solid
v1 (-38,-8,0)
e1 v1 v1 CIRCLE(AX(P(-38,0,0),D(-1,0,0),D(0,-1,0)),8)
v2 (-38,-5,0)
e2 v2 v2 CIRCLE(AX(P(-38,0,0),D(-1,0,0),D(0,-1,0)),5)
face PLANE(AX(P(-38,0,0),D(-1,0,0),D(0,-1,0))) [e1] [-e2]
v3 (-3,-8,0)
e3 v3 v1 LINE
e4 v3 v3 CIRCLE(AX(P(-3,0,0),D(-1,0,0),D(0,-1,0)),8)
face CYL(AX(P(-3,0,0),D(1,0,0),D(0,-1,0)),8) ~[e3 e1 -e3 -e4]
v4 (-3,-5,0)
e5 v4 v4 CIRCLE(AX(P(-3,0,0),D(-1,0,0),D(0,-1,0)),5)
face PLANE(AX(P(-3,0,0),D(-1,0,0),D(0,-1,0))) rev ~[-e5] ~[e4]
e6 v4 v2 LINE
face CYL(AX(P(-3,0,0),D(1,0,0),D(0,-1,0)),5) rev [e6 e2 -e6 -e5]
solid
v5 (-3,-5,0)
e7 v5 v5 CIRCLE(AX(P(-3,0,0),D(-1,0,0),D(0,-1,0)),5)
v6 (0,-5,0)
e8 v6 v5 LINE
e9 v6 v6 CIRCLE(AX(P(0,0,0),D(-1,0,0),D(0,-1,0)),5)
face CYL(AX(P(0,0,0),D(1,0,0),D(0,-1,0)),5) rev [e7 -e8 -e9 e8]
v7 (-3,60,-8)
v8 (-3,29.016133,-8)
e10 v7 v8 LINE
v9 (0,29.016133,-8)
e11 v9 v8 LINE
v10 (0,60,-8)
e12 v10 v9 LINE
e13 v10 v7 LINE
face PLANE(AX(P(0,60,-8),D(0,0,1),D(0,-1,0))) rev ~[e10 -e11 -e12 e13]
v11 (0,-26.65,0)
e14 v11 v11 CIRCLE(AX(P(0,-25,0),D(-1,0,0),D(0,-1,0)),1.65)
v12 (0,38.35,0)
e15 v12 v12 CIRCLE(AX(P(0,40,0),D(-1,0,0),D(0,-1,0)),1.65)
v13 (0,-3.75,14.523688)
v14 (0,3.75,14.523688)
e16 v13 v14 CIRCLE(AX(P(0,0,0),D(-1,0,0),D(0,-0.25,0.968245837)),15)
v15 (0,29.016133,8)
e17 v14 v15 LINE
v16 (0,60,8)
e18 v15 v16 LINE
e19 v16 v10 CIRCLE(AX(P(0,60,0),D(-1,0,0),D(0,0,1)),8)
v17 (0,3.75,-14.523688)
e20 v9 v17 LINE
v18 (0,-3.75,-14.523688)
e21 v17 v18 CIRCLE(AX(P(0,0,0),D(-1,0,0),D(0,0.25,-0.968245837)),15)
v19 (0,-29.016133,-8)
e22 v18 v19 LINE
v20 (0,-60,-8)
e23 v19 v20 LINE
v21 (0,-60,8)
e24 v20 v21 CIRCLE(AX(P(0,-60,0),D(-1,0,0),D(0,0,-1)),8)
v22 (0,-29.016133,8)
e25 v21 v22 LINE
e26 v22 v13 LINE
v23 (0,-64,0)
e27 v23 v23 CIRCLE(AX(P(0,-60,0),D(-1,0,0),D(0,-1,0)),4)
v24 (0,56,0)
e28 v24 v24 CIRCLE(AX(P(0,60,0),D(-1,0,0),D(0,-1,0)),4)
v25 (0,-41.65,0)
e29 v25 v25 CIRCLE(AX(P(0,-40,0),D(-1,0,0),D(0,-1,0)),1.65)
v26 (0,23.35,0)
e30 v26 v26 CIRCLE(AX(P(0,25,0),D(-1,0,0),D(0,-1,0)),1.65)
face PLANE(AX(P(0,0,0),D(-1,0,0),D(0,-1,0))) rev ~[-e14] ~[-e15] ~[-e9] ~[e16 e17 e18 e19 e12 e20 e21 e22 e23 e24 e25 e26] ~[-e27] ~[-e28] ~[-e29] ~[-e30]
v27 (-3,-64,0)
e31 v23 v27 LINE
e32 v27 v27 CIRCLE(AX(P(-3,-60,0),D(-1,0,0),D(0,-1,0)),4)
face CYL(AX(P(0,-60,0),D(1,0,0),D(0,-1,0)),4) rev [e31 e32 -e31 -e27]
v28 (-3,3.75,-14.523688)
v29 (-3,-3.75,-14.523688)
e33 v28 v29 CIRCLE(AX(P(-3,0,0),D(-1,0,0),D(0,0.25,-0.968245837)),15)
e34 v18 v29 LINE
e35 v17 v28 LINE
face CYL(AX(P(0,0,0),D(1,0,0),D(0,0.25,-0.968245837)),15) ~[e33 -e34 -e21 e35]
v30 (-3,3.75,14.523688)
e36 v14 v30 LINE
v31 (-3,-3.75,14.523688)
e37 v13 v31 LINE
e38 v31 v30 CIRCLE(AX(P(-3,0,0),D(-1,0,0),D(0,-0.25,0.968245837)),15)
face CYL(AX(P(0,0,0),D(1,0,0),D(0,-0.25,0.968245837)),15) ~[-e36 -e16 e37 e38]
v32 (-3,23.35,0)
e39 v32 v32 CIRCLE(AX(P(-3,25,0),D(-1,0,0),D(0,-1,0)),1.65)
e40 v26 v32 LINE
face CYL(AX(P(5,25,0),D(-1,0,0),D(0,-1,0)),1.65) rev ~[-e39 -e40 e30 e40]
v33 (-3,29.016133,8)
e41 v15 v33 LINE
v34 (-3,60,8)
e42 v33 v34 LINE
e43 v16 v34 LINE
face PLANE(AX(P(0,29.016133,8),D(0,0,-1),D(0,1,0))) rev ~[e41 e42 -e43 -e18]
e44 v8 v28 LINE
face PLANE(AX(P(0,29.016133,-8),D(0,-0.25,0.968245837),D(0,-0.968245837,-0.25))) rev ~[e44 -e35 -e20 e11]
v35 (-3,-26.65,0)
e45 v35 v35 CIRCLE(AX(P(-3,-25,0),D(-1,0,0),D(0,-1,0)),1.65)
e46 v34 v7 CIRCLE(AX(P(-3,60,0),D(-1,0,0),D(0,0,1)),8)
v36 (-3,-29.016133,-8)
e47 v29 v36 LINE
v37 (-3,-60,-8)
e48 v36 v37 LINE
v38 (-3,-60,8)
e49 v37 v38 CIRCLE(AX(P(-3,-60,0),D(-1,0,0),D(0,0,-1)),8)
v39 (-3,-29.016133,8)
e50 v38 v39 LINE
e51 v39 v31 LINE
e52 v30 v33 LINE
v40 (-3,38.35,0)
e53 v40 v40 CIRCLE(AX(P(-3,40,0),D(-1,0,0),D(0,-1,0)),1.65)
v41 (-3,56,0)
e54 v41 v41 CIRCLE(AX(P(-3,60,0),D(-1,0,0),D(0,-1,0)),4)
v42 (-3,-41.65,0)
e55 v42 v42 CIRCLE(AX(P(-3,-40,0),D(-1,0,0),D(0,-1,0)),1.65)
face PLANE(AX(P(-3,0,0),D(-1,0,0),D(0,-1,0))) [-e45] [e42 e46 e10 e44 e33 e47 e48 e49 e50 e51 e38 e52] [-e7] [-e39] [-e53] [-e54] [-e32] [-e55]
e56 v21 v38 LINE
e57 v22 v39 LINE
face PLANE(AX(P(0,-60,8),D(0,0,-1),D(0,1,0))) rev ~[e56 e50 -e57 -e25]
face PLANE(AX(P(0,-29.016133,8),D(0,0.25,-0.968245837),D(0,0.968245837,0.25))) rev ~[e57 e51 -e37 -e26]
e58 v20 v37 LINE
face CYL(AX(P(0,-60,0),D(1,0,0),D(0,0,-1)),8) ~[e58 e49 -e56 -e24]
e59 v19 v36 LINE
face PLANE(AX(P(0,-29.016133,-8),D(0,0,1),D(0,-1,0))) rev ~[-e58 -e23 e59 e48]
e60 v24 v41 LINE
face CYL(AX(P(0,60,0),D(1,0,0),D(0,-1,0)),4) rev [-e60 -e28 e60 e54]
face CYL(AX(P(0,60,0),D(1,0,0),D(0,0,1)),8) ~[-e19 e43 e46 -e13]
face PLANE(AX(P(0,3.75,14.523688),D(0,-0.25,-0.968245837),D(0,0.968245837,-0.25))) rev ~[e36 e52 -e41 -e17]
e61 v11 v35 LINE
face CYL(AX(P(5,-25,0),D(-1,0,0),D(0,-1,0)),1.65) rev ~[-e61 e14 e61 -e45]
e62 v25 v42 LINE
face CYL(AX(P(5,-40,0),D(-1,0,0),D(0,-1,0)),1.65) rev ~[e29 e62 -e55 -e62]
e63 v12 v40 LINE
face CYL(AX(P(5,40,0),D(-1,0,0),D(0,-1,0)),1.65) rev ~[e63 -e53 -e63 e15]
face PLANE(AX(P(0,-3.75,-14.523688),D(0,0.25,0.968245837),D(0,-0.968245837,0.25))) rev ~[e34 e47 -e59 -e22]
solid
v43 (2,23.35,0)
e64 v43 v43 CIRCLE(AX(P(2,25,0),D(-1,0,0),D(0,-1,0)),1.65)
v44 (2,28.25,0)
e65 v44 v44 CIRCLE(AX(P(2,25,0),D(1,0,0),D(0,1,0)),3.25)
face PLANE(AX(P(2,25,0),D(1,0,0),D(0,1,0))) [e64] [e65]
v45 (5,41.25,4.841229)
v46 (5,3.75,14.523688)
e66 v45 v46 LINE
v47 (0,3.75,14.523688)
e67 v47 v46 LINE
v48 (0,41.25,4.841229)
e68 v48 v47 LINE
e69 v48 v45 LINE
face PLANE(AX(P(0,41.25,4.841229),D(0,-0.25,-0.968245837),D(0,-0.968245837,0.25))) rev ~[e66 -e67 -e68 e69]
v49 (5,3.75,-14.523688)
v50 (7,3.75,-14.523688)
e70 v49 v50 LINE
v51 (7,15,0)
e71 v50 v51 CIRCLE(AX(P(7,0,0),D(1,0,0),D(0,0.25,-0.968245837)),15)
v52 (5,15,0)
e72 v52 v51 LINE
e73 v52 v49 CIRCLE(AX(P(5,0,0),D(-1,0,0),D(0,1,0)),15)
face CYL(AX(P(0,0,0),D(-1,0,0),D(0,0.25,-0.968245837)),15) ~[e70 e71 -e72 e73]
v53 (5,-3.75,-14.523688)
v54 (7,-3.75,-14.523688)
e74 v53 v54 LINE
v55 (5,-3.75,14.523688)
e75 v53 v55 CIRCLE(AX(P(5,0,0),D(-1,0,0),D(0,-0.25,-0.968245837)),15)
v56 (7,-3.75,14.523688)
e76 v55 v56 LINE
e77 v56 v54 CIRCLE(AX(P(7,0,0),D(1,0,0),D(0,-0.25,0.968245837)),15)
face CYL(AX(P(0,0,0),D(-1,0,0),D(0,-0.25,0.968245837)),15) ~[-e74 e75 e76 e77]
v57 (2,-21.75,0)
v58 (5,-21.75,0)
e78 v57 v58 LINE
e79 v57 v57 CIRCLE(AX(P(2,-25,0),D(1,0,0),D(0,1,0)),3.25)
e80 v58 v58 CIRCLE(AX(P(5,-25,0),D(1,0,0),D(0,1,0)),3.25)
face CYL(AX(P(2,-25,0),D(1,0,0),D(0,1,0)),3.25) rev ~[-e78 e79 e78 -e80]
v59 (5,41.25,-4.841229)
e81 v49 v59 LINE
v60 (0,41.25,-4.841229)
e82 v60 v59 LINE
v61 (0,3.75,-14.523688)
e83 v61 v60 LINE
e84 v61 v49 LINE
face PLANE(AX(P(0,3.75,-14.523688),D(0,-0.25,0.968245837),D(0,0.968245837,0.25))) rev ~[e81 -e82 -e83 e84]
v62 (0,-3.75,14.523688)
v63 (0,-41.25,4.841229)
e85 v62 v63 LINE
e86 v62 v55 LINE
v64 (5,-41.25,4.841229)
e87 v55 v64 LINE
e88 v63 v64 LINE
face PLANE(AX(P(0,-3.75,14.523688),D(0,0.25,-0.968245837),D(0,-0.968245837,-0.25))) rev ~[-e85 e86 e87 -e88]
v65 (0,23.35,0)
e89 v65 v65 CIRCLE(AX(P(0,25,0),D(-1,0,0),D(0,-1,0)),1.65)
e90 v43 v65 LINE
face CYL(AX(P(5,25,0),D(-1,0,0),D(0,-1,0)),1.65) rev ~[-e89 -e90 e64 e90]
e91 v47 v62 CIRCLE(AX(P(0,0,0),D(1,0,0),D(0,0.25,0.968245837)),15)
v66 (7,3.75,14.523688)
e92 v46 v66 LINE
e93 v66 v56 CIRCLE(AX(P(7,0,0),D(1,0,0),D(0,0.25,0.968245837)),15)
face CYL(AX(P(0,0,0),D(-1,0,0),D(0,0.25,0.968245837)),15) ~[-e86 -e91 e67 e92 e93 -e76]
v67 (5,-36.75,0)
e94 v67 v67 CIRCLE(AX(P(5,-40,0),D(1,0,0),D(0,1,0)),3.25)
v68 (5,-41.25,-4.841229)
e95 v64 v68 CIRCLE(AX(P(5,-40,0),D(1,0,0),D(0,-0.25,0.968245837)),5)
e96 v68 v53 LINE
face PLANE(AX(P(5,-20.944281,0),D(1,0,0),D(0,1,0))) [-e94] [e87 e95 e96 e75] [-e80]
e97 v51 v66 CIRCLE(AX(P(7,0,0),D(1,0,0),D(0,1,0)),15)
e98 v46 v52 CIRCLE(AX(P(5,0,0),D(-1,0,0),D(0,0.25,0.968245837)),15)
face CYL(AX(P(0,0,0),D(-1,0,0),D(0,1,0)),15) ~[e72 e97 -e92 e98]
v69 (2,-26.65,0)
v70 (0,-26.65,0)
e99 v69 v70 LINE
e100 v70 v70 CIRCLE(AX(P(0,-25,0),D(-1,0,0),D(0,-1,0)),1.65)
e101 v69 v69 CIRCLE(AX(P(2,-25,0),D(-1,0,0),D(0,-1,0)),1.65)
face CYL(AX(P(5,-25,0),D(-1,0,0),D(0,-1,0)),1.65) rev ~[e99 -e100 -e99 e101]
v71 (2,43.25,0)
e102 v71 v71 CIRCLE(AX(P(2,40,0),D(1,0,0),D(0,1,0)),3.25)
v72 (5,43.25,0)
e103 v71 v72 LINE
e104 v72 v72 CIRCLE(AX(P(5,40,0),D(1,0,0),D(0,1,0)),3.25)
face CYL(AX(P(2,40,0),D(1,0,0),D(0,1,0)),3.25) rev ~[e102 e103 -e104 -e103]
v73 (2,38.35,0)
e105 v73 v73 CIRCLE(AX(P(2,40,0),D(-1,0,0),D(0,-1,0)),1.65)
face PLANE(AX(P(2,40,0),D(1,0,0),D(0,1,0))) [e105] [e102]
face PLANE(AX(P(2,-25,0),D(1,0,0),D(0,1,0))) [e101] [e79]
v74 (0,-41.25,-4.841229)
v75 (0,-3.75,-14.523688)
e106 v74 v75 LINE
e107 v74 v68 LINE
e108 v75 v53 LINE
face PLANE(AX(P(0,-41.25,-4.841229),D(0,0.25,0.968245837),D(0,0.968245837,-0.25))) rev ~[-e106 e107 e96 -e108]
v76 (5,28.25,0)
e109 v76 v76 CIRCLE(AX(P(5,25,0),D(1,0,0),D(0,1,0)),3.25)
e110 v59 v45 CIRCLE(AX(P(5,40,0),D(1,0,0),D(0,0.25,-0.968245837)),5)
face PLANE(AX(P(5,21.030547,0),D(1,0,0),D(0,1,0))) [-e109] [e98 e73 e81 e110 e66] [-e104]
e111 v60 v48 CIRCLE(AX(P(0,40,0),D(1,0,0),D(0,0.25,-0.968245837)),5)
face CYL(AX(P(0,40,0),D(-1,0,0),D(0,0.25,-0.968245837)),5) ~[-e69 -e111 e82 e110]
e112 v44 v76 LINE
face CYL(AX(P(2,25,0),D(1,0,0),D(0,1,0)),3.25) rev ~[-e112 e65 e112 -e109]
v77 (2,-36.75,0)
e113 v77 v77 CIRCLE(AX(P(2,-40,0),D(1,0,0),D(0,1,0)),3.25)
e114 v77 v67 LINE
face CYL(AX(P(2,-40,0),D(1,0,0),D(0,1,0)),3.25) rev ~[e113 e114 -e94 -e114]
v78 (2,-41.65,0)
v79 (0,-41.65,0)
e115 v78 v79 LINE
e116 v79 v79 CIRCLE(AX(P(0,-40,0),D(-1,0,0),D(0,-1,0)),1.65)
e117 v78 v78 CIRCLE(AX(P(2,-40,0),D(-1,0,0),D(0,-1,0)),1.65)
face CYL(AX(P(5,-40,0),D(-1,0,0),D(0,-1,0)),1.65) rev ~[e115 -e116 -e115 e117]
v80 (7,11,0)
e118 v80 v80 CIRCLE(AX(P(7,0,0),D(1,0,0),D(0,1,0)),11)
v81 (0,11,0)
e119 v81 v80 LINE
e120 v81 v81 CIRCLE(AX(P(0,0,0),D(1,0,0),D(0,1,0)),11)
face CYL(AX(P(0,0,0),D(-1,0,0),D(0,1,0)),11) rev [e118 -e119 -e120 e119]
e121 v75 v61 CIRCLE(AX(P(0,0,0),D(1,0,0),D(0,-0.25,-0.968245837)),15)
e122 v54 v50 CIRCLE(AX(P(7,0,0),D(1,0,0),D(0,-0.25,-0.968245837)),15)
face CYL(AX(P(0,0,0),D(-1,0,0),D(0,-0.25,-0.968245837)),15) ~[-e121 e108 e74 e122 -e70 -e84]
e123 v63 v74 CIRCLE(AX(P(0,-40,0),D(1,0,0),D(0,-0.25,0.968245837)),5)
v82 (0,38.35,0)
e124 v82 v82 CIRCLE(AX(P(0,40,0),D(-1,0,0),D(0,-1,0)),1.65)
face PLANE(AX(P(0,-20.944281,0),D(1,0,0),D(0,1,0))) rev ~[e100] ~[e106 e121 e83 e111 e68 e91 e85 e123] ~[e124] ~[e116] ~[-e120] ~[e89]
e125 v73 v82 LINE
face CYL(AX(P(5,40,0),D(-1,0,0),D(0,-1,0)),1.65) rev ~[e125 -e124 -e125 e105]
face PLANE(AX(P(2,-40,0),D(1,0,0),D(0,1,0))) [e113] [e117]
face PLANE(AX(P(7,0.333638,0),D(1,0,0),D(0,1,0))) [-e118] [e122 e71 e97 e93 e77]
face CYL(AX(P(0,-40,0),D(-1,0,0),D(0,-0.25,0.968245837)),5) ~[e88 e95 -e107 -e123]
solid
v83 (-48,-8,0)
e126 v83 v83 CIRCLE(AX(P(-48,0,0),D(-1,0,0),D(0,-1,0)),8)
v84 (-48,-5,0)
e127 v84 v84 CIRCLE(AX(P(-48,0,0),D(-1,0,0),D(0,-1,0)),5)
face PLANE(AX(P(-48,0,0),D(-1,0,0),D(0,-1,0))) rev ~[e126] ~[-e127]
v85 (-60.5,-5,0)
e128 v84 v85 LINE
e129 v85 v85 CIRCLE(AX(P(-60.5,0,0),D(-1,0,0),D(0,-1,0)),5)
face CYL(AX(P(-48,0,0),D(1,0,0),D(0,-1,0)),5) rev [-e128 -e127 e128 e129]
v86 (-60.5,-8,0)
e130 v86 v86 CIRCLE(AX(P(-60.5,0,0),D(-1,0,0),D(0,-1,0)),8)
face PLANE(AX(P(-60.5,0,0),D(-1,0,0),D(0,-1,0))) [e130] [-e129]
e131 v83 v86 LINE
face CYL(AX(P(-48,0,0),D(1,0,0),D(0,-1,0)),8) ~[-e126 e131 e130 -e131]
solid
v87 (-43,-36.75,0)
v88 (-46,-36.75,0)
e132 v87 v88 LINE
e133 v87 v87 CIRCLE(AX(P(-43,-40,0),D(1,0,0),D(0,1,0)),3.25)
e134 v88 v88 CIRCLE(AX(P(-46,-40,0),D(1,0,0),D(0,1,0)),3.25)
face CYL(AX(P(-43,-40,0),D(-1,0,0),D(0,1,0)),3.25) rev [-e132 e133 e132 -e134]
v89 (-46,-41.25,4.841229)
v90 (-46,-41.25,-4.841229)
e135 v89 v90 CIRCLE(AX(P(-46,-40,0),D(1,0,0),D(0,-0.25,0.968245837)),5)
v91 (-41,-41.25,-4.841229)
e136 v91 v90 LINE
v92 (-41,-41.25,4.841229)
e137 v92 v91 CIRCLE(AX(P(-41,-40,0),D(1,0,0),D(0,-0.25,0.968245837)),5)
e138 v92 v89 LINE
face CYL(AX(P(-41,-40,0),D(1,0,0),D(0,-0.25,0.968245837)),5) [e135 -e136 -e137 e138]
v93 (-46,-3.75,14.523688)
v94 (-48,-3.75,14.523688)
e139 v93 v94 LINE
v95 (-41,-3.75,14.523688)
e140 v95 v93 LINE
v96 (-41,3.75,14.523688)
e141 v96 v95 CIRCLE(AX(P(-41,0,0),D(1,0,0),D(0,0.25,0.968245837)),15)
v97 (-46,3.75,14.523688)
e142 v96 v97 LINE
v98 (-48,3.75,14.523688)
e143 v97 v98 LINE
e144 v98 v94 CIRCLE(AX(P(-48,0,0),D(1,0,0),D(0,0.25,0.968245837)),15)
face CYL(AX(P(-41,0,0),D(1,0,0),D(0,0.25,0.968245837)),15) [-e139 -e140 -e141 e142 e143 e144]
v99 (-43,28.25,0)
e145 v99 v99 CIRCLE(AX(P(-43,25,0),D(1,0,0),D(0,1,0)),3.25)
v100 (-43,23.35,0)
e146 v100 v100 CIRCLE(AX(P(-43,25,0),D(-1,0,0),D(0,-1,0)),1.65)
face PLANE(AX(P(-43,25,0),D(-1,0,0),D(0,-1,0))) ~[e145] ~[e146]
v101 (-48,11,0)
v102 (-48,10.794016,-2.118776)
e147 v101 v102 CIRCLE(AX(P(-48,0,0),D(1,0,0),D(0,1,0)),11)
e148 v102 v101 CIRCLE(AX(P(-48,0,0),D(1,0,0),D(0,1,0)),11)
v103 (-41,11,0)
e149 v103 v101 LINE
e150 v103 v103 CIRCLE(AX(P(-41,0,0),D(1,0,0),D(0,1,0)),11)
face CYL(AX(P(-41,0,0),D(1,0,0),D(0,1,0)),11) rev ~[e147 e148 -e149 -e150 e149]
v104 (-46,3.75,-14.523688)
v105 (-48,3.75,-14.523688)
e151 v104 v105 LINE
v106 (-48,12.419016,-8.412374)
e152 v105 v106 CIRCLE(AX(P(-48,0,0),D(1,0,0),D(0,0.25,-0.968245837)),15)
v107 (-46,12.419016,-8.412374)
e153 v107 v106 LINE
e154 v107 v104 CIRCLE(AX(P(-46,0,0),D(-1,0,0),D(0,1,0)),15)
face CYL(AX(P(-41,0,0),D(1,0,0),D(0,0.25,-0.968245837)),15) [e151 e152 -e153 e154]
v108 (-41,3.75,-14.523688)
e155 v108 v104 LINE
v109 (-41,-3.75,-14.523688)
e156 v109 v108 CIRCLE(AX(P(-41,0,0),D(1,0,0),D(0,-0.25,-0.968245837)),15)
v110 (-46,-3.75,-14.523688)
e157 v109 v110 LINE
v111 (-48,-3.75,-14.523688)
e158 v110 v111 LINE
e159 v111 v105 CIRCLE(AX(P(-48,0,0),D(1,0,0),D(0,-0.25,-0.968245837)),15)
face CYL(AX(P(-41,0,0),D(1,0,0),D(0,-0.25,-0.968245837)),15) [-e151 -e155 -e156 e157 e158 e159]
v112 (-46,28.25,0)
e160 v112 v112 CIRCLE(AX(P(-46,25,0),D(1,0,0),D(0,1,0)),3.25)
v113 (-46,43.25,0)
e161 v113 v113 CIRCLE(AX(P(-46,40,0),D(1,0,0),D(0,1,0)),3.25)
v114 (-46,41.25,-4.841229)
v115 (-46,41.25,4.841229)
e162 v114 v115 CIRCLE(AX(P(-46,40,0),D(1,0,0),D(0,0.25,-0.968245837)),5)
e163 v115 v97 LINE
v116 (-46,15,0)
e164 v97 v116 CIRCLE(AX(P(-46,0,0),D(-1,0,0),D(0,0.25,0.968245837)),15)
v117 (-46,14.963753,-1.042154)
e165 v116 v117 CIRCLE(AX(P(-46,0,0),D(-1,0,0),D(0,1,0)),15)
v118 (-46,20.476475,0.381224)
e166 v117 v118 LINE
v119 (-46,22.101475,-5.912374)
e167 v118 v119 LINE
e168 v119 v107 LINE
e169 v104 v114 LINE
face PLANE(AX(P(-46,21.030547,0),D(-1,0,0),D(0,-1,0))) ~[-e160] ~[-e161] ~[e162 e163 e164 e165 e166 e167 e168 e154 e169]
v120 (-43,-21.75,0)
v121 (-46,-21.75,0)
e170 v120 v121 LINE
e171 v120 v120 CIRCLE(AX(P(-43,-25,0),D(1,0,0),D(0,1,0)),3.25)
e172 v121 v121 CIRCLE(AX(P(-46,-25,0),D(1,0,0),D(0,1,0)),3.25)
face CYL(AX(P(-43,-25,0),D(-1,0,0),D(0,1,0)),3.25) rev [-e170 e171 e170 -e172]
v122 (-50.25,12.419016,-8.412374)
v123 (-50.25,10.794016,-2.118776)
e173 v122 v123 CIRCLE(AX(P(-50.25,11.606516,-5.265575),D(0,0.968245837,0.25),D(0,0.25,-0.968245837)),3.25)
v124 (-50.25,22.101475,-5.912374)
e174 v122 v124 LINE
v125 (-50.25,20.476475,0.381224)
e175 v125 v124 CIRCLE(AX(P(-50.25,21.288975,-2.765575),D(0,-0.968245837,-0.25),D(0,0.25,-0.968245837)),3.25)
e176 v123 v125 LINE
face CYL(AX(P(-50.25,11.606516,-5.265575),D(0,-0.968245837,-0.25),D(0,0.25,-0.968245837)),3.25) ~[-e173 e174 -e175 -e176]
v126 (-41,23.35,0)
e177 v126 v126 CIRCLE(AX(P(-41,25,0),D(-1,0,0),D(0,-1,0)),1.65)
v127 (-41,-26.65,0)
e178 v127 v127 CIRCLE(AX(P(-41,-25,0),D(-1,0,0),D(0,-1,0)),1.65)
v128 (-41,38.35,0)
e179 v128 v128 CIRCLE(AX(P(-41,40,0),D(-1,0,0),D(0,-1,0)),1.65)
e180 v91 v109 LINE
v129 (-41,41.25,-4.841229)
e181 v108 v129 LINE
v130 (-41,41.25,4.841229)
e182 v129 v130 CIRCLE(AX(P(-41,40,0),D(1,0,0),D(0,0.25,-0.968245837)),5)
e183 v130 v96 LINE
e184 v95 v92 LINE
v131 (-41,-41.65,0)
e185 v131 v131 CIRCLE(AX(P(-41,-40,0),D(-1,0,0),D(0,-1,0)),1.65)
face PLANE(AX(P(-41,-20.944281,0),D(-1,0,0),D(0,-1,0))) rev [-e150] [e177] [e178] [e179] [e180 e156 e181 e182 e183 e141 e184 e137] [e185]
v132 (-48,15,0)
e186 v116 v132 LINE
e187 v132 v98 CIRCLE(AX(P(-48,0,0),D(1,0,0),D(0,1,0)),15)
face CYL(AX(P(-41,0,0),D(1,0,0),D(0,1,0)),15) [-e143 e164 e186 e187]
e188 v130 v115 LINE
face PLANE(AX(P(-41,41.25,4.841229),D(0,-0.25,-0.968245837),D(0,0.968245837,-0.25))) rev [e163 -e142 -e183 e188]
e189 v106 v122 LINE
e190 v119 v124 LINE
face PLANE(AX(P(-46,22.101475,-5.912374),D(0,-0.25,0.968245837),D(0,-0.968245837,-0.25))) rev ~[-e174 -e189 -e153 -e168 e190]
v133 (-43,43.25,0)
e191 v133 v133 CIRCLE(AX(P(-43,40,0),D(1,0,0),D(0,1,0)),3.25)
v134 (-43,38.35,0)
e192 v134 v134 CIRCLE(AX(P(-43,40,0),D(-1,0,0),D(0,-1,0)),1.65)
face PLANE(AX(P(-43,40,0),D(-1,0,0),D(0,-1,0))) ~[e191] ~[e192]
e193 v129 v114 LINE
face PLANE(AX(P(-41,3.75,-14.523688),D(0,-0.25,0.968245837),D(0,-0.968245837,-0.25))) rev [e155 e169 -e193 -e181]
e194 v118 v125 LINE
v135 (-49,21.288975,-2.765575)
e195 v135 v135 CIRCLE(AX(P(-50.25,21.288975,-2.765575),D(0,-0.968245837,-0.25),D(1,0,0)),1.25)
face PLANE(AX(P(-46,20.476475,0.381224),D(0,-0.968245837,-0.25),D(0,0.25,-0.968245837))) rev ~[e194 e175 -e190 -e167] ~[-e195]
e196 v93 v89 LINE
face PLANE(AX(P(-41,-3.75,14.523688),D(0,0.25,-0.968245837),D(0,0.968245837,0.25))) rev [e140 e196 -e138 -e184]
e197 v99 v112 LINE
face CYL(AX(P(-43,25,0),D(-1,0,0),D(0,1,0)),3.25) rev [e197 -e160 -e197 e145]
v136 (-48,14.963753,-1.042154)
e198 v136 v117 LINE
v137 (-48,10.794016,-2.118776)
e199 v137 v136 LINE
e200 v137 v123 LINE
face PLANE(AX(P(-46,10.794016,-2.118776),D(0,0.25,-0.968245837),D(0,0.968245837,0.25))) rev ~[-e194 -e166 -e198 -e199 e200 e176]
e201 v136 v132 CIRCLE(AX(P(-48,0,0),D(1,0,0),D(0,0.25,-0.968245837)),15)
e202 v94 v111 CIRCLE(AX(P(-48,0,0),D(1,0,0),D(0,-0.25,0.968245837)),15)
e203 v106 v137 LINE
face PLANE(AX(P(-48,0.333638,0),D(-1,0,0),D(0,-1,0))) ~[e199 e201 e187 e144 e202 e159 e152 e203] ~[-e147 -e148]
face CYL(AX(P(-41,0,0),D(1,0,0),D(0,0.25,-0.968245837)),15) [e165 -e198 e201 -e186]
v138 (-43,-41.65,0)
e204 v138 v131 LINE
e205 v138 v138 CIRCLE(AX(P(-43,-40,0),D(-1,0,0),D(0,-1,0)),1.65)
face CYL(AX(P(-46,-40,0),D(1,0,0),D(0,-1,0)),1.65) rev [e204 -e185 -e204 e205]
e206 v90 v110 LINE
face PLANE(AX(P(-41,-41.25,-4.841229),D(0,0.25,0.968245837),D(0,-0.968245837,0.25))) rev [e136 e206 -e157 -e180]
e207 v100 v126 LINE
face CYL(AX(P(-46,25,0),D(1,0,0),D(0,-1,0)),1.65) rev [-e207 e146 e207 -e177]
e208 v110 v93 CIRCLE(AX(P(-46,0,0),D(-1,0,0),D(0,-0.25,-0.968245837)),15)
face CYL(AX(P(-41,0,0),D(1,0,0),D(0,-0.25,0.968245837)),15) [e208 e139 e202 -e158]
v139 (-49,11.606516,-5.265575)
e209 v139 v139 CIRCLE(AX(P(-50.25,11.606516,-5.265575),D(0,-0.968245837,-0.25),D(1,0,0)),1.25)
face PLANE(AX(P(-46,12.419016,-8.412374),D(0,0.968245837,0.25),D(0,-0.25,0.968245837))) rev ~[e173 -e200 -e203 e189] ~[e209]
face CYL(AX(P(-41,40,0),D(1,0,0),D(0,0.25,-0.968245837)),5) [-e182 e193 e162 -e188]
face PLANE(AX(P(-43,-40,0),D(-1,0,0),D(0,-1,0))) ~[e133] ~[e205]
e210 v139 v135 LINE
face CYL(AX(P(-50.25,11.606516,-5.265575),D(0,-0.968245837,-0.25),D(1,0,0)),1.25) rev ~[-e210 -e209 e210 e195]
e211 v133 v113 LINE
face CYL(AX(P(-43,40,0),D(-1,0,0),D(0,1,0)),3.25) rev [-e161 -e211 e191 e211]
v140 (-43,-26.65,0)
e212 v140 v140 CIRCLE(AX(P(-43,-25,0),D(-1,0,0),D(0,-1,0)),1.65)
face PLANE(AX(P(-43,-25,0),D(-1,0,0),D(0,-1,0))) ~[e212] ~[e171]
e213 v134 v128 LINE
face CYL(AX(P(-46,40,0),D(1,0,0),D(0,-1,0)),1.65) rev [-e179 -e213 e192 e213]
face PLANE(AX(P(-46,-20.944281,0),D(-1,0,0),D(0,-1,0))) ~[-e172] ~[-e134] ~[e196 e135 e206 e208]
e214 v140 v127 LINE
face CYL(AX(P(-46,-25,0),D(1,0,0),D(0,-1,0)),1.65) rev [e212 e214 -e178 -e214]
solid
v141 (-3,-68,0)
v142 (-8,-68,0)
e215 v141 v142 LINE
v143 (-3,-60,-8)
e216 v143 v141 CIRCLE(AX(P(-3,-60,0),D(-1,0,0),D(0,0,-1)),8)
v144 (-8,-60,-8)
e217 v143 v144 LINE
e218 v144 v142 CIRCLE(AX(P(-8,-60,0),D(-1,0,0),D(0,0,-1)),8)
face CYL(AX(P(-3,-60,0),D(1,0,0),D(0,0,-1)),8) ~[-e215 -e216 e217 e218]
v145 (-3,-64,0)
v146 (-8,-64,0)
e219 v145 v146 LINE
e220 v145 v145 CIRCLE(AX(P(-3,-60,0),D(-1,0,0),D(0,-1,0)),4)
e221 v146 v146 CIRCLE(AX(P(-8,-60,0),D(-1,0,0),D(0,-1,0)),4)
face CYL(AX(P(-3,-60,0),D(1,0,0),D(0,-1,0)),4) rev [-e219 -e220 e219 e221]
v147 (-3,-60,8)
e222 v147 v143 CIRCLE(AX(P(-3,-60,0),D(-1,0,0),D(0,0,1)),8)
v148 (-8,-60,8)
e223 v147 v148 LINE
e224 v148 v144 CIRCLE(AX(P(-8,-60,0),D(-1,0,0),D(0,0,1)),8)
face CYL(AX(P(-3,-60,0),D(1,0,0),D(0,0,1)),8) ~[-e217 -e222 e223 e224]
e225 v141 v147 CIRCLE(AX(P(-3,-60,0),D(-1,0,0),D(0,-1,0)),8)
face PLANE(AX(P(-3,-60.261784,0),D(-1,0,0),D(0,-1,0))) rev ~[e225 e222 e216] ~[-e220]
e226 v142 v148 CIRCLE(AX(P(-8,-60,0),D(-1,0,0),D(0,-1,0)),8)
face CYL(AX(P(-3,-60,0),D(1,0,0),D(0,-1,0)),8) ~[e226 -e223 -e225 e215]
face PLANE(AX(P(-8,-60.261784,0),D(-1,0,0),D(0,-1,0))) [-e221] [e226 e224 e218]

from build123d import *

# Parameters (mm, degrees)
F0_R             = 11
F1_DEPTH         = 7
F2_DEPTH         = 5
F3_R             = 4
F3_R_2           = 5
F4_DEPTH         = 3
F6_D             = 3.3
F6_DEPTH         = 16
F6_CBORE_D       = 6.5
F6_CBORE_DEPTH   = 3
F6_TIP           = 0.9914200214
F6_2_D           = 3.3
F6_2_DEPTH       = 16
F6_2_CBORE_D     = 6.5
F6_2_CBORE_DEPTH = 3
F6_2_TIP         = 0.9914200214
F7_R             = 8
F7_R_2           = 5
F8_DEPTH         = 35
F7_R_3           = 4
F9_DEPTH         = 5
F13_DEPTH        = 25
F14_R            = 1.25
F15_DEPTH        = 25
F16_R            = 8
F16_R_2          = 5
F17_DEPTH        = 12.5


with BuildPart() as f1:
    # F0 (on Right) → F1 (new body)
    with BuildSketch(Plane.YZ):
        with BuildLine():
            ThreePointArc((3.75, -14.5236875483), (11.8585412256, -9.1855865354), (15, 0))
            ThreePointArc((15, 0), (11.8585412256, 9.1855865354), (3.75, 14.5236875483))
            ThreePointArc((3.75, 14.5236875483), (0, 15), (-3.75, 14.5236875483))
            ThreePointArc((-3.75, 14.5236875483), (-15, 0), (-3.75, -14.5236875483))
            ThreePointArc((-3.75, -14.5236875483), (0, -15), (3.75, -14.5236875483))
        make_face()
        Circle(F0_R, mode=Mode.SUBTRACT)
    extrude(amount=F1_DEPTH)

    # F0 (on Right) → F2 (join)
    with BuildSketch(Plane.YZ):
        with BuildLine():
            ThreePointArc((-3.75, -14.5236875483), (-15, 0), (-3.75, 14.5236875483))
            Line((-3.75, 14.5236875483), (-41.25, 4.8412291828))
            ThreePointArc((-41.25, 4.8412291828), (-45, 0), (-41.25, -4.8412291828))
            Line((-41.25, -4.8412291828), (-3.75, -14.5236875483))
        make_face()
        with BuildLine():
            ThreePointArc((3.75, 14.5236875483), (11.8585412256, 9.1855865354), (15, 0))
            ThreePointArc((15, 0), (11.8585412256, -9.1855865354), (3.75, -14.5236875483))
            Line((3.75, -14.5236875483), (41.25, -4.8412291828))
            ThreePointArc((41.25, -4.8412291828), (45, 0), (41.25, 4.8412291828))
            Line((41.25, 4.8412291828), (3.75, 14.5236875483))
        make_face()
    extrude(amount=F2_DEPTH)

    # F6
    with Locations(Plane.YZ.offset(5)):
        with Locations((-40, 0), (40, 0), (-25, 0), (25, 0)):
            CounterBoreHole(F6_D / 2, F6_CBORE_D / 2, F6_CBORE_DEPTH, depth=F6_DEPTH)
            with Locations((0, 0, -(F6_DEPTH + F6_TIP / 2))):  # 118° drill point
                Cone(0, F6_D / 2, F6_TIP, mode=Mode.SUBTRACT)


with BuildPart() as f4:
    # F3 (on face) → F4 (new body)
    with BuildSketch(Plane(origin=(0, 0, 0), x_dir=(0, -1, 0), z_dir=(-1, 0, 0))):
        with BuildLine():
            Line((-29.0161332303, -8), (-3.75, -14.5236875483))
            ThreePointArc((-3.75, -14.5236875483), (0, -15), (3.75, -14.5236875483))
            Line((3.75, -14.5236875483), (29.0161332303, -8))
            Line((29.0161332303, -8), (60, -8))
            ThreePointArc((60, -8), (68, 0), (60, 8))
            Line((60, 8), (29.0161332303, 8))
            Line((29.0161332303, 8), (3.75, 14.5236875483))
            ThreePointArc((3.75, 14.5236875483), (0, 15), (-3.75, 14.5236875483))
            Line((-3.75, 14.5236875483), (-29.0161332303, 8))
            Line((-29.0161332303, 8), (-60, 8))
            ThreePointArc((-60, 8), (-68, 0), (-60, -8))
            Line((-60, -8), (-29.0161332303, -8))
        make_face()
        with Locations((-60, 0)):
            Circle(F3_R, mode=Mode.SUBTRACT)
        Circle(F3_R_2, mode=Mode.SUBTRACT)
        with Locations((60, 0)):
            Circle(F3_R, mode=Mode.SUBTRACT)
    extrude(amount=F4_DEPTH)

    # F6#2
    with Locations(Plane.YZ.offset(5)):
        with Locations((-40, 0), (40, 0), (-25, 0), (25, 0)):
            CounterBoreHole(F6_2_D / 2, F6_2_CBORE_D / 2, F6_2_CBORE_DEPTH, depth=F6_2_DEPTH)
            with Locations((0, 0, -(F6_2_DEPTH + F6_2_TIP / 2))):  # 118° drill point
                Cone(0, F6_2_D / 2, F6_2_TIP, mode=Mode.SUBTRACT)


with BuildPart() as f8:
    # F7 (on face) → F8 (new body)
    with BuildSketch(Plane(origin=(-3, 0, 0), x_dir=(0, -1, 0), z_dir=(-1, 0, 0))):
        Circle(F7_R)
        Circle(F7_R_2, mode=Mode.SUBTRACT)
    extrude(amount=F8_DEPTH)


with BuildPart() as f9:
    # F7 (on face) → F9 (new body)
    with BuildSketch(Plane(origin=(-3, 0, 0), x_dir=(0, -1, 0), z_dir=(-1, 0, 0))):
        with BuildLine():
            ThreePointArc((60, -8), (65.6568542495, -5.6568542495), (68, 0))
            ThreePointArc((68, 0), (65.6568542495, 5.6568542495), (60, 8))
            ThreePointArc((60, 8), (52, 0), (60, -8))
        make_face()
        with Locations((60, 0)):
            Circle(F7_R_3, mode=Mode.SUBTRACT)
    extrude(amount=F9_DEPTH)


with BuildPart() as f11_1:
    # F11: instance of F1
    add(f1.part.mirror(Plane(origin=(-20.5, 0, 0), x_dir=(0, -1, 0), z_dir=(1, 0, 0))))

    # F12 (on face) → F13 (join)
    with BuildSketch(Plane(origin=(-46, 0, 0), x_dir=(0, -1, 0), z_dir=(-1, 0, 0))):
        Polygon((-20.4764747086, 0.3812241305), (-22.1014747086, -5.9123738071), (-12.4190163431, -8.4123738071), (-10.7940163431, -2.1187758695), align=None)
    extrude(amount=F13_DEPTH)

    # F14 (on face) → F15 (cut)
    with BuildSketch(Plane(origin=(0, 9.6065163431, 2.4803918541), x_dir=(1, 0, 0), z_dir=(0, -0.9682458366, -0.25))):
        with BuildLine():
            ThreePointArc((-50.25, -11.25), (-53.5, -8), (-50.25, -4.75))
            Line((-50.25, -4.75), (-50.25, 5.3424948306))
            Line((-50.25, 5.3424948306), (-79.4689531028, 5.3424948306))
            Line((-79.4689531028, 5.3424948306), (-79.4689531028, -24.2762112579))
            Line((-79.4689531028, -24.2762112579), (-50.25, -24.2762112579))
            Line((-50.25, -24.2762112579), (-50.25, -11.25))
        make_face()
        with Locations((-50.25, -8)):
            Circle(F14_R)
    extrude(amount=-F15_DEPTH, mode=Mode.SUBTRACT)


with BuildPart() as f17:
    # F16 (on face) → F17 (new body)
    with BuildSketch(Plane(origin=(-48, 0, 0), x_dir=(0, -1, 0), z_dir=(-1, 0, 0))):
        Circle(F16_R)
        Circle(F16_R_2, mode=Mode.SUBTRACT)
    extrude(amount=F17_DEPTH)


solid = Compound([f1.part, f4.part, f8.part, f9.part, f11_1.part, f17.part])
